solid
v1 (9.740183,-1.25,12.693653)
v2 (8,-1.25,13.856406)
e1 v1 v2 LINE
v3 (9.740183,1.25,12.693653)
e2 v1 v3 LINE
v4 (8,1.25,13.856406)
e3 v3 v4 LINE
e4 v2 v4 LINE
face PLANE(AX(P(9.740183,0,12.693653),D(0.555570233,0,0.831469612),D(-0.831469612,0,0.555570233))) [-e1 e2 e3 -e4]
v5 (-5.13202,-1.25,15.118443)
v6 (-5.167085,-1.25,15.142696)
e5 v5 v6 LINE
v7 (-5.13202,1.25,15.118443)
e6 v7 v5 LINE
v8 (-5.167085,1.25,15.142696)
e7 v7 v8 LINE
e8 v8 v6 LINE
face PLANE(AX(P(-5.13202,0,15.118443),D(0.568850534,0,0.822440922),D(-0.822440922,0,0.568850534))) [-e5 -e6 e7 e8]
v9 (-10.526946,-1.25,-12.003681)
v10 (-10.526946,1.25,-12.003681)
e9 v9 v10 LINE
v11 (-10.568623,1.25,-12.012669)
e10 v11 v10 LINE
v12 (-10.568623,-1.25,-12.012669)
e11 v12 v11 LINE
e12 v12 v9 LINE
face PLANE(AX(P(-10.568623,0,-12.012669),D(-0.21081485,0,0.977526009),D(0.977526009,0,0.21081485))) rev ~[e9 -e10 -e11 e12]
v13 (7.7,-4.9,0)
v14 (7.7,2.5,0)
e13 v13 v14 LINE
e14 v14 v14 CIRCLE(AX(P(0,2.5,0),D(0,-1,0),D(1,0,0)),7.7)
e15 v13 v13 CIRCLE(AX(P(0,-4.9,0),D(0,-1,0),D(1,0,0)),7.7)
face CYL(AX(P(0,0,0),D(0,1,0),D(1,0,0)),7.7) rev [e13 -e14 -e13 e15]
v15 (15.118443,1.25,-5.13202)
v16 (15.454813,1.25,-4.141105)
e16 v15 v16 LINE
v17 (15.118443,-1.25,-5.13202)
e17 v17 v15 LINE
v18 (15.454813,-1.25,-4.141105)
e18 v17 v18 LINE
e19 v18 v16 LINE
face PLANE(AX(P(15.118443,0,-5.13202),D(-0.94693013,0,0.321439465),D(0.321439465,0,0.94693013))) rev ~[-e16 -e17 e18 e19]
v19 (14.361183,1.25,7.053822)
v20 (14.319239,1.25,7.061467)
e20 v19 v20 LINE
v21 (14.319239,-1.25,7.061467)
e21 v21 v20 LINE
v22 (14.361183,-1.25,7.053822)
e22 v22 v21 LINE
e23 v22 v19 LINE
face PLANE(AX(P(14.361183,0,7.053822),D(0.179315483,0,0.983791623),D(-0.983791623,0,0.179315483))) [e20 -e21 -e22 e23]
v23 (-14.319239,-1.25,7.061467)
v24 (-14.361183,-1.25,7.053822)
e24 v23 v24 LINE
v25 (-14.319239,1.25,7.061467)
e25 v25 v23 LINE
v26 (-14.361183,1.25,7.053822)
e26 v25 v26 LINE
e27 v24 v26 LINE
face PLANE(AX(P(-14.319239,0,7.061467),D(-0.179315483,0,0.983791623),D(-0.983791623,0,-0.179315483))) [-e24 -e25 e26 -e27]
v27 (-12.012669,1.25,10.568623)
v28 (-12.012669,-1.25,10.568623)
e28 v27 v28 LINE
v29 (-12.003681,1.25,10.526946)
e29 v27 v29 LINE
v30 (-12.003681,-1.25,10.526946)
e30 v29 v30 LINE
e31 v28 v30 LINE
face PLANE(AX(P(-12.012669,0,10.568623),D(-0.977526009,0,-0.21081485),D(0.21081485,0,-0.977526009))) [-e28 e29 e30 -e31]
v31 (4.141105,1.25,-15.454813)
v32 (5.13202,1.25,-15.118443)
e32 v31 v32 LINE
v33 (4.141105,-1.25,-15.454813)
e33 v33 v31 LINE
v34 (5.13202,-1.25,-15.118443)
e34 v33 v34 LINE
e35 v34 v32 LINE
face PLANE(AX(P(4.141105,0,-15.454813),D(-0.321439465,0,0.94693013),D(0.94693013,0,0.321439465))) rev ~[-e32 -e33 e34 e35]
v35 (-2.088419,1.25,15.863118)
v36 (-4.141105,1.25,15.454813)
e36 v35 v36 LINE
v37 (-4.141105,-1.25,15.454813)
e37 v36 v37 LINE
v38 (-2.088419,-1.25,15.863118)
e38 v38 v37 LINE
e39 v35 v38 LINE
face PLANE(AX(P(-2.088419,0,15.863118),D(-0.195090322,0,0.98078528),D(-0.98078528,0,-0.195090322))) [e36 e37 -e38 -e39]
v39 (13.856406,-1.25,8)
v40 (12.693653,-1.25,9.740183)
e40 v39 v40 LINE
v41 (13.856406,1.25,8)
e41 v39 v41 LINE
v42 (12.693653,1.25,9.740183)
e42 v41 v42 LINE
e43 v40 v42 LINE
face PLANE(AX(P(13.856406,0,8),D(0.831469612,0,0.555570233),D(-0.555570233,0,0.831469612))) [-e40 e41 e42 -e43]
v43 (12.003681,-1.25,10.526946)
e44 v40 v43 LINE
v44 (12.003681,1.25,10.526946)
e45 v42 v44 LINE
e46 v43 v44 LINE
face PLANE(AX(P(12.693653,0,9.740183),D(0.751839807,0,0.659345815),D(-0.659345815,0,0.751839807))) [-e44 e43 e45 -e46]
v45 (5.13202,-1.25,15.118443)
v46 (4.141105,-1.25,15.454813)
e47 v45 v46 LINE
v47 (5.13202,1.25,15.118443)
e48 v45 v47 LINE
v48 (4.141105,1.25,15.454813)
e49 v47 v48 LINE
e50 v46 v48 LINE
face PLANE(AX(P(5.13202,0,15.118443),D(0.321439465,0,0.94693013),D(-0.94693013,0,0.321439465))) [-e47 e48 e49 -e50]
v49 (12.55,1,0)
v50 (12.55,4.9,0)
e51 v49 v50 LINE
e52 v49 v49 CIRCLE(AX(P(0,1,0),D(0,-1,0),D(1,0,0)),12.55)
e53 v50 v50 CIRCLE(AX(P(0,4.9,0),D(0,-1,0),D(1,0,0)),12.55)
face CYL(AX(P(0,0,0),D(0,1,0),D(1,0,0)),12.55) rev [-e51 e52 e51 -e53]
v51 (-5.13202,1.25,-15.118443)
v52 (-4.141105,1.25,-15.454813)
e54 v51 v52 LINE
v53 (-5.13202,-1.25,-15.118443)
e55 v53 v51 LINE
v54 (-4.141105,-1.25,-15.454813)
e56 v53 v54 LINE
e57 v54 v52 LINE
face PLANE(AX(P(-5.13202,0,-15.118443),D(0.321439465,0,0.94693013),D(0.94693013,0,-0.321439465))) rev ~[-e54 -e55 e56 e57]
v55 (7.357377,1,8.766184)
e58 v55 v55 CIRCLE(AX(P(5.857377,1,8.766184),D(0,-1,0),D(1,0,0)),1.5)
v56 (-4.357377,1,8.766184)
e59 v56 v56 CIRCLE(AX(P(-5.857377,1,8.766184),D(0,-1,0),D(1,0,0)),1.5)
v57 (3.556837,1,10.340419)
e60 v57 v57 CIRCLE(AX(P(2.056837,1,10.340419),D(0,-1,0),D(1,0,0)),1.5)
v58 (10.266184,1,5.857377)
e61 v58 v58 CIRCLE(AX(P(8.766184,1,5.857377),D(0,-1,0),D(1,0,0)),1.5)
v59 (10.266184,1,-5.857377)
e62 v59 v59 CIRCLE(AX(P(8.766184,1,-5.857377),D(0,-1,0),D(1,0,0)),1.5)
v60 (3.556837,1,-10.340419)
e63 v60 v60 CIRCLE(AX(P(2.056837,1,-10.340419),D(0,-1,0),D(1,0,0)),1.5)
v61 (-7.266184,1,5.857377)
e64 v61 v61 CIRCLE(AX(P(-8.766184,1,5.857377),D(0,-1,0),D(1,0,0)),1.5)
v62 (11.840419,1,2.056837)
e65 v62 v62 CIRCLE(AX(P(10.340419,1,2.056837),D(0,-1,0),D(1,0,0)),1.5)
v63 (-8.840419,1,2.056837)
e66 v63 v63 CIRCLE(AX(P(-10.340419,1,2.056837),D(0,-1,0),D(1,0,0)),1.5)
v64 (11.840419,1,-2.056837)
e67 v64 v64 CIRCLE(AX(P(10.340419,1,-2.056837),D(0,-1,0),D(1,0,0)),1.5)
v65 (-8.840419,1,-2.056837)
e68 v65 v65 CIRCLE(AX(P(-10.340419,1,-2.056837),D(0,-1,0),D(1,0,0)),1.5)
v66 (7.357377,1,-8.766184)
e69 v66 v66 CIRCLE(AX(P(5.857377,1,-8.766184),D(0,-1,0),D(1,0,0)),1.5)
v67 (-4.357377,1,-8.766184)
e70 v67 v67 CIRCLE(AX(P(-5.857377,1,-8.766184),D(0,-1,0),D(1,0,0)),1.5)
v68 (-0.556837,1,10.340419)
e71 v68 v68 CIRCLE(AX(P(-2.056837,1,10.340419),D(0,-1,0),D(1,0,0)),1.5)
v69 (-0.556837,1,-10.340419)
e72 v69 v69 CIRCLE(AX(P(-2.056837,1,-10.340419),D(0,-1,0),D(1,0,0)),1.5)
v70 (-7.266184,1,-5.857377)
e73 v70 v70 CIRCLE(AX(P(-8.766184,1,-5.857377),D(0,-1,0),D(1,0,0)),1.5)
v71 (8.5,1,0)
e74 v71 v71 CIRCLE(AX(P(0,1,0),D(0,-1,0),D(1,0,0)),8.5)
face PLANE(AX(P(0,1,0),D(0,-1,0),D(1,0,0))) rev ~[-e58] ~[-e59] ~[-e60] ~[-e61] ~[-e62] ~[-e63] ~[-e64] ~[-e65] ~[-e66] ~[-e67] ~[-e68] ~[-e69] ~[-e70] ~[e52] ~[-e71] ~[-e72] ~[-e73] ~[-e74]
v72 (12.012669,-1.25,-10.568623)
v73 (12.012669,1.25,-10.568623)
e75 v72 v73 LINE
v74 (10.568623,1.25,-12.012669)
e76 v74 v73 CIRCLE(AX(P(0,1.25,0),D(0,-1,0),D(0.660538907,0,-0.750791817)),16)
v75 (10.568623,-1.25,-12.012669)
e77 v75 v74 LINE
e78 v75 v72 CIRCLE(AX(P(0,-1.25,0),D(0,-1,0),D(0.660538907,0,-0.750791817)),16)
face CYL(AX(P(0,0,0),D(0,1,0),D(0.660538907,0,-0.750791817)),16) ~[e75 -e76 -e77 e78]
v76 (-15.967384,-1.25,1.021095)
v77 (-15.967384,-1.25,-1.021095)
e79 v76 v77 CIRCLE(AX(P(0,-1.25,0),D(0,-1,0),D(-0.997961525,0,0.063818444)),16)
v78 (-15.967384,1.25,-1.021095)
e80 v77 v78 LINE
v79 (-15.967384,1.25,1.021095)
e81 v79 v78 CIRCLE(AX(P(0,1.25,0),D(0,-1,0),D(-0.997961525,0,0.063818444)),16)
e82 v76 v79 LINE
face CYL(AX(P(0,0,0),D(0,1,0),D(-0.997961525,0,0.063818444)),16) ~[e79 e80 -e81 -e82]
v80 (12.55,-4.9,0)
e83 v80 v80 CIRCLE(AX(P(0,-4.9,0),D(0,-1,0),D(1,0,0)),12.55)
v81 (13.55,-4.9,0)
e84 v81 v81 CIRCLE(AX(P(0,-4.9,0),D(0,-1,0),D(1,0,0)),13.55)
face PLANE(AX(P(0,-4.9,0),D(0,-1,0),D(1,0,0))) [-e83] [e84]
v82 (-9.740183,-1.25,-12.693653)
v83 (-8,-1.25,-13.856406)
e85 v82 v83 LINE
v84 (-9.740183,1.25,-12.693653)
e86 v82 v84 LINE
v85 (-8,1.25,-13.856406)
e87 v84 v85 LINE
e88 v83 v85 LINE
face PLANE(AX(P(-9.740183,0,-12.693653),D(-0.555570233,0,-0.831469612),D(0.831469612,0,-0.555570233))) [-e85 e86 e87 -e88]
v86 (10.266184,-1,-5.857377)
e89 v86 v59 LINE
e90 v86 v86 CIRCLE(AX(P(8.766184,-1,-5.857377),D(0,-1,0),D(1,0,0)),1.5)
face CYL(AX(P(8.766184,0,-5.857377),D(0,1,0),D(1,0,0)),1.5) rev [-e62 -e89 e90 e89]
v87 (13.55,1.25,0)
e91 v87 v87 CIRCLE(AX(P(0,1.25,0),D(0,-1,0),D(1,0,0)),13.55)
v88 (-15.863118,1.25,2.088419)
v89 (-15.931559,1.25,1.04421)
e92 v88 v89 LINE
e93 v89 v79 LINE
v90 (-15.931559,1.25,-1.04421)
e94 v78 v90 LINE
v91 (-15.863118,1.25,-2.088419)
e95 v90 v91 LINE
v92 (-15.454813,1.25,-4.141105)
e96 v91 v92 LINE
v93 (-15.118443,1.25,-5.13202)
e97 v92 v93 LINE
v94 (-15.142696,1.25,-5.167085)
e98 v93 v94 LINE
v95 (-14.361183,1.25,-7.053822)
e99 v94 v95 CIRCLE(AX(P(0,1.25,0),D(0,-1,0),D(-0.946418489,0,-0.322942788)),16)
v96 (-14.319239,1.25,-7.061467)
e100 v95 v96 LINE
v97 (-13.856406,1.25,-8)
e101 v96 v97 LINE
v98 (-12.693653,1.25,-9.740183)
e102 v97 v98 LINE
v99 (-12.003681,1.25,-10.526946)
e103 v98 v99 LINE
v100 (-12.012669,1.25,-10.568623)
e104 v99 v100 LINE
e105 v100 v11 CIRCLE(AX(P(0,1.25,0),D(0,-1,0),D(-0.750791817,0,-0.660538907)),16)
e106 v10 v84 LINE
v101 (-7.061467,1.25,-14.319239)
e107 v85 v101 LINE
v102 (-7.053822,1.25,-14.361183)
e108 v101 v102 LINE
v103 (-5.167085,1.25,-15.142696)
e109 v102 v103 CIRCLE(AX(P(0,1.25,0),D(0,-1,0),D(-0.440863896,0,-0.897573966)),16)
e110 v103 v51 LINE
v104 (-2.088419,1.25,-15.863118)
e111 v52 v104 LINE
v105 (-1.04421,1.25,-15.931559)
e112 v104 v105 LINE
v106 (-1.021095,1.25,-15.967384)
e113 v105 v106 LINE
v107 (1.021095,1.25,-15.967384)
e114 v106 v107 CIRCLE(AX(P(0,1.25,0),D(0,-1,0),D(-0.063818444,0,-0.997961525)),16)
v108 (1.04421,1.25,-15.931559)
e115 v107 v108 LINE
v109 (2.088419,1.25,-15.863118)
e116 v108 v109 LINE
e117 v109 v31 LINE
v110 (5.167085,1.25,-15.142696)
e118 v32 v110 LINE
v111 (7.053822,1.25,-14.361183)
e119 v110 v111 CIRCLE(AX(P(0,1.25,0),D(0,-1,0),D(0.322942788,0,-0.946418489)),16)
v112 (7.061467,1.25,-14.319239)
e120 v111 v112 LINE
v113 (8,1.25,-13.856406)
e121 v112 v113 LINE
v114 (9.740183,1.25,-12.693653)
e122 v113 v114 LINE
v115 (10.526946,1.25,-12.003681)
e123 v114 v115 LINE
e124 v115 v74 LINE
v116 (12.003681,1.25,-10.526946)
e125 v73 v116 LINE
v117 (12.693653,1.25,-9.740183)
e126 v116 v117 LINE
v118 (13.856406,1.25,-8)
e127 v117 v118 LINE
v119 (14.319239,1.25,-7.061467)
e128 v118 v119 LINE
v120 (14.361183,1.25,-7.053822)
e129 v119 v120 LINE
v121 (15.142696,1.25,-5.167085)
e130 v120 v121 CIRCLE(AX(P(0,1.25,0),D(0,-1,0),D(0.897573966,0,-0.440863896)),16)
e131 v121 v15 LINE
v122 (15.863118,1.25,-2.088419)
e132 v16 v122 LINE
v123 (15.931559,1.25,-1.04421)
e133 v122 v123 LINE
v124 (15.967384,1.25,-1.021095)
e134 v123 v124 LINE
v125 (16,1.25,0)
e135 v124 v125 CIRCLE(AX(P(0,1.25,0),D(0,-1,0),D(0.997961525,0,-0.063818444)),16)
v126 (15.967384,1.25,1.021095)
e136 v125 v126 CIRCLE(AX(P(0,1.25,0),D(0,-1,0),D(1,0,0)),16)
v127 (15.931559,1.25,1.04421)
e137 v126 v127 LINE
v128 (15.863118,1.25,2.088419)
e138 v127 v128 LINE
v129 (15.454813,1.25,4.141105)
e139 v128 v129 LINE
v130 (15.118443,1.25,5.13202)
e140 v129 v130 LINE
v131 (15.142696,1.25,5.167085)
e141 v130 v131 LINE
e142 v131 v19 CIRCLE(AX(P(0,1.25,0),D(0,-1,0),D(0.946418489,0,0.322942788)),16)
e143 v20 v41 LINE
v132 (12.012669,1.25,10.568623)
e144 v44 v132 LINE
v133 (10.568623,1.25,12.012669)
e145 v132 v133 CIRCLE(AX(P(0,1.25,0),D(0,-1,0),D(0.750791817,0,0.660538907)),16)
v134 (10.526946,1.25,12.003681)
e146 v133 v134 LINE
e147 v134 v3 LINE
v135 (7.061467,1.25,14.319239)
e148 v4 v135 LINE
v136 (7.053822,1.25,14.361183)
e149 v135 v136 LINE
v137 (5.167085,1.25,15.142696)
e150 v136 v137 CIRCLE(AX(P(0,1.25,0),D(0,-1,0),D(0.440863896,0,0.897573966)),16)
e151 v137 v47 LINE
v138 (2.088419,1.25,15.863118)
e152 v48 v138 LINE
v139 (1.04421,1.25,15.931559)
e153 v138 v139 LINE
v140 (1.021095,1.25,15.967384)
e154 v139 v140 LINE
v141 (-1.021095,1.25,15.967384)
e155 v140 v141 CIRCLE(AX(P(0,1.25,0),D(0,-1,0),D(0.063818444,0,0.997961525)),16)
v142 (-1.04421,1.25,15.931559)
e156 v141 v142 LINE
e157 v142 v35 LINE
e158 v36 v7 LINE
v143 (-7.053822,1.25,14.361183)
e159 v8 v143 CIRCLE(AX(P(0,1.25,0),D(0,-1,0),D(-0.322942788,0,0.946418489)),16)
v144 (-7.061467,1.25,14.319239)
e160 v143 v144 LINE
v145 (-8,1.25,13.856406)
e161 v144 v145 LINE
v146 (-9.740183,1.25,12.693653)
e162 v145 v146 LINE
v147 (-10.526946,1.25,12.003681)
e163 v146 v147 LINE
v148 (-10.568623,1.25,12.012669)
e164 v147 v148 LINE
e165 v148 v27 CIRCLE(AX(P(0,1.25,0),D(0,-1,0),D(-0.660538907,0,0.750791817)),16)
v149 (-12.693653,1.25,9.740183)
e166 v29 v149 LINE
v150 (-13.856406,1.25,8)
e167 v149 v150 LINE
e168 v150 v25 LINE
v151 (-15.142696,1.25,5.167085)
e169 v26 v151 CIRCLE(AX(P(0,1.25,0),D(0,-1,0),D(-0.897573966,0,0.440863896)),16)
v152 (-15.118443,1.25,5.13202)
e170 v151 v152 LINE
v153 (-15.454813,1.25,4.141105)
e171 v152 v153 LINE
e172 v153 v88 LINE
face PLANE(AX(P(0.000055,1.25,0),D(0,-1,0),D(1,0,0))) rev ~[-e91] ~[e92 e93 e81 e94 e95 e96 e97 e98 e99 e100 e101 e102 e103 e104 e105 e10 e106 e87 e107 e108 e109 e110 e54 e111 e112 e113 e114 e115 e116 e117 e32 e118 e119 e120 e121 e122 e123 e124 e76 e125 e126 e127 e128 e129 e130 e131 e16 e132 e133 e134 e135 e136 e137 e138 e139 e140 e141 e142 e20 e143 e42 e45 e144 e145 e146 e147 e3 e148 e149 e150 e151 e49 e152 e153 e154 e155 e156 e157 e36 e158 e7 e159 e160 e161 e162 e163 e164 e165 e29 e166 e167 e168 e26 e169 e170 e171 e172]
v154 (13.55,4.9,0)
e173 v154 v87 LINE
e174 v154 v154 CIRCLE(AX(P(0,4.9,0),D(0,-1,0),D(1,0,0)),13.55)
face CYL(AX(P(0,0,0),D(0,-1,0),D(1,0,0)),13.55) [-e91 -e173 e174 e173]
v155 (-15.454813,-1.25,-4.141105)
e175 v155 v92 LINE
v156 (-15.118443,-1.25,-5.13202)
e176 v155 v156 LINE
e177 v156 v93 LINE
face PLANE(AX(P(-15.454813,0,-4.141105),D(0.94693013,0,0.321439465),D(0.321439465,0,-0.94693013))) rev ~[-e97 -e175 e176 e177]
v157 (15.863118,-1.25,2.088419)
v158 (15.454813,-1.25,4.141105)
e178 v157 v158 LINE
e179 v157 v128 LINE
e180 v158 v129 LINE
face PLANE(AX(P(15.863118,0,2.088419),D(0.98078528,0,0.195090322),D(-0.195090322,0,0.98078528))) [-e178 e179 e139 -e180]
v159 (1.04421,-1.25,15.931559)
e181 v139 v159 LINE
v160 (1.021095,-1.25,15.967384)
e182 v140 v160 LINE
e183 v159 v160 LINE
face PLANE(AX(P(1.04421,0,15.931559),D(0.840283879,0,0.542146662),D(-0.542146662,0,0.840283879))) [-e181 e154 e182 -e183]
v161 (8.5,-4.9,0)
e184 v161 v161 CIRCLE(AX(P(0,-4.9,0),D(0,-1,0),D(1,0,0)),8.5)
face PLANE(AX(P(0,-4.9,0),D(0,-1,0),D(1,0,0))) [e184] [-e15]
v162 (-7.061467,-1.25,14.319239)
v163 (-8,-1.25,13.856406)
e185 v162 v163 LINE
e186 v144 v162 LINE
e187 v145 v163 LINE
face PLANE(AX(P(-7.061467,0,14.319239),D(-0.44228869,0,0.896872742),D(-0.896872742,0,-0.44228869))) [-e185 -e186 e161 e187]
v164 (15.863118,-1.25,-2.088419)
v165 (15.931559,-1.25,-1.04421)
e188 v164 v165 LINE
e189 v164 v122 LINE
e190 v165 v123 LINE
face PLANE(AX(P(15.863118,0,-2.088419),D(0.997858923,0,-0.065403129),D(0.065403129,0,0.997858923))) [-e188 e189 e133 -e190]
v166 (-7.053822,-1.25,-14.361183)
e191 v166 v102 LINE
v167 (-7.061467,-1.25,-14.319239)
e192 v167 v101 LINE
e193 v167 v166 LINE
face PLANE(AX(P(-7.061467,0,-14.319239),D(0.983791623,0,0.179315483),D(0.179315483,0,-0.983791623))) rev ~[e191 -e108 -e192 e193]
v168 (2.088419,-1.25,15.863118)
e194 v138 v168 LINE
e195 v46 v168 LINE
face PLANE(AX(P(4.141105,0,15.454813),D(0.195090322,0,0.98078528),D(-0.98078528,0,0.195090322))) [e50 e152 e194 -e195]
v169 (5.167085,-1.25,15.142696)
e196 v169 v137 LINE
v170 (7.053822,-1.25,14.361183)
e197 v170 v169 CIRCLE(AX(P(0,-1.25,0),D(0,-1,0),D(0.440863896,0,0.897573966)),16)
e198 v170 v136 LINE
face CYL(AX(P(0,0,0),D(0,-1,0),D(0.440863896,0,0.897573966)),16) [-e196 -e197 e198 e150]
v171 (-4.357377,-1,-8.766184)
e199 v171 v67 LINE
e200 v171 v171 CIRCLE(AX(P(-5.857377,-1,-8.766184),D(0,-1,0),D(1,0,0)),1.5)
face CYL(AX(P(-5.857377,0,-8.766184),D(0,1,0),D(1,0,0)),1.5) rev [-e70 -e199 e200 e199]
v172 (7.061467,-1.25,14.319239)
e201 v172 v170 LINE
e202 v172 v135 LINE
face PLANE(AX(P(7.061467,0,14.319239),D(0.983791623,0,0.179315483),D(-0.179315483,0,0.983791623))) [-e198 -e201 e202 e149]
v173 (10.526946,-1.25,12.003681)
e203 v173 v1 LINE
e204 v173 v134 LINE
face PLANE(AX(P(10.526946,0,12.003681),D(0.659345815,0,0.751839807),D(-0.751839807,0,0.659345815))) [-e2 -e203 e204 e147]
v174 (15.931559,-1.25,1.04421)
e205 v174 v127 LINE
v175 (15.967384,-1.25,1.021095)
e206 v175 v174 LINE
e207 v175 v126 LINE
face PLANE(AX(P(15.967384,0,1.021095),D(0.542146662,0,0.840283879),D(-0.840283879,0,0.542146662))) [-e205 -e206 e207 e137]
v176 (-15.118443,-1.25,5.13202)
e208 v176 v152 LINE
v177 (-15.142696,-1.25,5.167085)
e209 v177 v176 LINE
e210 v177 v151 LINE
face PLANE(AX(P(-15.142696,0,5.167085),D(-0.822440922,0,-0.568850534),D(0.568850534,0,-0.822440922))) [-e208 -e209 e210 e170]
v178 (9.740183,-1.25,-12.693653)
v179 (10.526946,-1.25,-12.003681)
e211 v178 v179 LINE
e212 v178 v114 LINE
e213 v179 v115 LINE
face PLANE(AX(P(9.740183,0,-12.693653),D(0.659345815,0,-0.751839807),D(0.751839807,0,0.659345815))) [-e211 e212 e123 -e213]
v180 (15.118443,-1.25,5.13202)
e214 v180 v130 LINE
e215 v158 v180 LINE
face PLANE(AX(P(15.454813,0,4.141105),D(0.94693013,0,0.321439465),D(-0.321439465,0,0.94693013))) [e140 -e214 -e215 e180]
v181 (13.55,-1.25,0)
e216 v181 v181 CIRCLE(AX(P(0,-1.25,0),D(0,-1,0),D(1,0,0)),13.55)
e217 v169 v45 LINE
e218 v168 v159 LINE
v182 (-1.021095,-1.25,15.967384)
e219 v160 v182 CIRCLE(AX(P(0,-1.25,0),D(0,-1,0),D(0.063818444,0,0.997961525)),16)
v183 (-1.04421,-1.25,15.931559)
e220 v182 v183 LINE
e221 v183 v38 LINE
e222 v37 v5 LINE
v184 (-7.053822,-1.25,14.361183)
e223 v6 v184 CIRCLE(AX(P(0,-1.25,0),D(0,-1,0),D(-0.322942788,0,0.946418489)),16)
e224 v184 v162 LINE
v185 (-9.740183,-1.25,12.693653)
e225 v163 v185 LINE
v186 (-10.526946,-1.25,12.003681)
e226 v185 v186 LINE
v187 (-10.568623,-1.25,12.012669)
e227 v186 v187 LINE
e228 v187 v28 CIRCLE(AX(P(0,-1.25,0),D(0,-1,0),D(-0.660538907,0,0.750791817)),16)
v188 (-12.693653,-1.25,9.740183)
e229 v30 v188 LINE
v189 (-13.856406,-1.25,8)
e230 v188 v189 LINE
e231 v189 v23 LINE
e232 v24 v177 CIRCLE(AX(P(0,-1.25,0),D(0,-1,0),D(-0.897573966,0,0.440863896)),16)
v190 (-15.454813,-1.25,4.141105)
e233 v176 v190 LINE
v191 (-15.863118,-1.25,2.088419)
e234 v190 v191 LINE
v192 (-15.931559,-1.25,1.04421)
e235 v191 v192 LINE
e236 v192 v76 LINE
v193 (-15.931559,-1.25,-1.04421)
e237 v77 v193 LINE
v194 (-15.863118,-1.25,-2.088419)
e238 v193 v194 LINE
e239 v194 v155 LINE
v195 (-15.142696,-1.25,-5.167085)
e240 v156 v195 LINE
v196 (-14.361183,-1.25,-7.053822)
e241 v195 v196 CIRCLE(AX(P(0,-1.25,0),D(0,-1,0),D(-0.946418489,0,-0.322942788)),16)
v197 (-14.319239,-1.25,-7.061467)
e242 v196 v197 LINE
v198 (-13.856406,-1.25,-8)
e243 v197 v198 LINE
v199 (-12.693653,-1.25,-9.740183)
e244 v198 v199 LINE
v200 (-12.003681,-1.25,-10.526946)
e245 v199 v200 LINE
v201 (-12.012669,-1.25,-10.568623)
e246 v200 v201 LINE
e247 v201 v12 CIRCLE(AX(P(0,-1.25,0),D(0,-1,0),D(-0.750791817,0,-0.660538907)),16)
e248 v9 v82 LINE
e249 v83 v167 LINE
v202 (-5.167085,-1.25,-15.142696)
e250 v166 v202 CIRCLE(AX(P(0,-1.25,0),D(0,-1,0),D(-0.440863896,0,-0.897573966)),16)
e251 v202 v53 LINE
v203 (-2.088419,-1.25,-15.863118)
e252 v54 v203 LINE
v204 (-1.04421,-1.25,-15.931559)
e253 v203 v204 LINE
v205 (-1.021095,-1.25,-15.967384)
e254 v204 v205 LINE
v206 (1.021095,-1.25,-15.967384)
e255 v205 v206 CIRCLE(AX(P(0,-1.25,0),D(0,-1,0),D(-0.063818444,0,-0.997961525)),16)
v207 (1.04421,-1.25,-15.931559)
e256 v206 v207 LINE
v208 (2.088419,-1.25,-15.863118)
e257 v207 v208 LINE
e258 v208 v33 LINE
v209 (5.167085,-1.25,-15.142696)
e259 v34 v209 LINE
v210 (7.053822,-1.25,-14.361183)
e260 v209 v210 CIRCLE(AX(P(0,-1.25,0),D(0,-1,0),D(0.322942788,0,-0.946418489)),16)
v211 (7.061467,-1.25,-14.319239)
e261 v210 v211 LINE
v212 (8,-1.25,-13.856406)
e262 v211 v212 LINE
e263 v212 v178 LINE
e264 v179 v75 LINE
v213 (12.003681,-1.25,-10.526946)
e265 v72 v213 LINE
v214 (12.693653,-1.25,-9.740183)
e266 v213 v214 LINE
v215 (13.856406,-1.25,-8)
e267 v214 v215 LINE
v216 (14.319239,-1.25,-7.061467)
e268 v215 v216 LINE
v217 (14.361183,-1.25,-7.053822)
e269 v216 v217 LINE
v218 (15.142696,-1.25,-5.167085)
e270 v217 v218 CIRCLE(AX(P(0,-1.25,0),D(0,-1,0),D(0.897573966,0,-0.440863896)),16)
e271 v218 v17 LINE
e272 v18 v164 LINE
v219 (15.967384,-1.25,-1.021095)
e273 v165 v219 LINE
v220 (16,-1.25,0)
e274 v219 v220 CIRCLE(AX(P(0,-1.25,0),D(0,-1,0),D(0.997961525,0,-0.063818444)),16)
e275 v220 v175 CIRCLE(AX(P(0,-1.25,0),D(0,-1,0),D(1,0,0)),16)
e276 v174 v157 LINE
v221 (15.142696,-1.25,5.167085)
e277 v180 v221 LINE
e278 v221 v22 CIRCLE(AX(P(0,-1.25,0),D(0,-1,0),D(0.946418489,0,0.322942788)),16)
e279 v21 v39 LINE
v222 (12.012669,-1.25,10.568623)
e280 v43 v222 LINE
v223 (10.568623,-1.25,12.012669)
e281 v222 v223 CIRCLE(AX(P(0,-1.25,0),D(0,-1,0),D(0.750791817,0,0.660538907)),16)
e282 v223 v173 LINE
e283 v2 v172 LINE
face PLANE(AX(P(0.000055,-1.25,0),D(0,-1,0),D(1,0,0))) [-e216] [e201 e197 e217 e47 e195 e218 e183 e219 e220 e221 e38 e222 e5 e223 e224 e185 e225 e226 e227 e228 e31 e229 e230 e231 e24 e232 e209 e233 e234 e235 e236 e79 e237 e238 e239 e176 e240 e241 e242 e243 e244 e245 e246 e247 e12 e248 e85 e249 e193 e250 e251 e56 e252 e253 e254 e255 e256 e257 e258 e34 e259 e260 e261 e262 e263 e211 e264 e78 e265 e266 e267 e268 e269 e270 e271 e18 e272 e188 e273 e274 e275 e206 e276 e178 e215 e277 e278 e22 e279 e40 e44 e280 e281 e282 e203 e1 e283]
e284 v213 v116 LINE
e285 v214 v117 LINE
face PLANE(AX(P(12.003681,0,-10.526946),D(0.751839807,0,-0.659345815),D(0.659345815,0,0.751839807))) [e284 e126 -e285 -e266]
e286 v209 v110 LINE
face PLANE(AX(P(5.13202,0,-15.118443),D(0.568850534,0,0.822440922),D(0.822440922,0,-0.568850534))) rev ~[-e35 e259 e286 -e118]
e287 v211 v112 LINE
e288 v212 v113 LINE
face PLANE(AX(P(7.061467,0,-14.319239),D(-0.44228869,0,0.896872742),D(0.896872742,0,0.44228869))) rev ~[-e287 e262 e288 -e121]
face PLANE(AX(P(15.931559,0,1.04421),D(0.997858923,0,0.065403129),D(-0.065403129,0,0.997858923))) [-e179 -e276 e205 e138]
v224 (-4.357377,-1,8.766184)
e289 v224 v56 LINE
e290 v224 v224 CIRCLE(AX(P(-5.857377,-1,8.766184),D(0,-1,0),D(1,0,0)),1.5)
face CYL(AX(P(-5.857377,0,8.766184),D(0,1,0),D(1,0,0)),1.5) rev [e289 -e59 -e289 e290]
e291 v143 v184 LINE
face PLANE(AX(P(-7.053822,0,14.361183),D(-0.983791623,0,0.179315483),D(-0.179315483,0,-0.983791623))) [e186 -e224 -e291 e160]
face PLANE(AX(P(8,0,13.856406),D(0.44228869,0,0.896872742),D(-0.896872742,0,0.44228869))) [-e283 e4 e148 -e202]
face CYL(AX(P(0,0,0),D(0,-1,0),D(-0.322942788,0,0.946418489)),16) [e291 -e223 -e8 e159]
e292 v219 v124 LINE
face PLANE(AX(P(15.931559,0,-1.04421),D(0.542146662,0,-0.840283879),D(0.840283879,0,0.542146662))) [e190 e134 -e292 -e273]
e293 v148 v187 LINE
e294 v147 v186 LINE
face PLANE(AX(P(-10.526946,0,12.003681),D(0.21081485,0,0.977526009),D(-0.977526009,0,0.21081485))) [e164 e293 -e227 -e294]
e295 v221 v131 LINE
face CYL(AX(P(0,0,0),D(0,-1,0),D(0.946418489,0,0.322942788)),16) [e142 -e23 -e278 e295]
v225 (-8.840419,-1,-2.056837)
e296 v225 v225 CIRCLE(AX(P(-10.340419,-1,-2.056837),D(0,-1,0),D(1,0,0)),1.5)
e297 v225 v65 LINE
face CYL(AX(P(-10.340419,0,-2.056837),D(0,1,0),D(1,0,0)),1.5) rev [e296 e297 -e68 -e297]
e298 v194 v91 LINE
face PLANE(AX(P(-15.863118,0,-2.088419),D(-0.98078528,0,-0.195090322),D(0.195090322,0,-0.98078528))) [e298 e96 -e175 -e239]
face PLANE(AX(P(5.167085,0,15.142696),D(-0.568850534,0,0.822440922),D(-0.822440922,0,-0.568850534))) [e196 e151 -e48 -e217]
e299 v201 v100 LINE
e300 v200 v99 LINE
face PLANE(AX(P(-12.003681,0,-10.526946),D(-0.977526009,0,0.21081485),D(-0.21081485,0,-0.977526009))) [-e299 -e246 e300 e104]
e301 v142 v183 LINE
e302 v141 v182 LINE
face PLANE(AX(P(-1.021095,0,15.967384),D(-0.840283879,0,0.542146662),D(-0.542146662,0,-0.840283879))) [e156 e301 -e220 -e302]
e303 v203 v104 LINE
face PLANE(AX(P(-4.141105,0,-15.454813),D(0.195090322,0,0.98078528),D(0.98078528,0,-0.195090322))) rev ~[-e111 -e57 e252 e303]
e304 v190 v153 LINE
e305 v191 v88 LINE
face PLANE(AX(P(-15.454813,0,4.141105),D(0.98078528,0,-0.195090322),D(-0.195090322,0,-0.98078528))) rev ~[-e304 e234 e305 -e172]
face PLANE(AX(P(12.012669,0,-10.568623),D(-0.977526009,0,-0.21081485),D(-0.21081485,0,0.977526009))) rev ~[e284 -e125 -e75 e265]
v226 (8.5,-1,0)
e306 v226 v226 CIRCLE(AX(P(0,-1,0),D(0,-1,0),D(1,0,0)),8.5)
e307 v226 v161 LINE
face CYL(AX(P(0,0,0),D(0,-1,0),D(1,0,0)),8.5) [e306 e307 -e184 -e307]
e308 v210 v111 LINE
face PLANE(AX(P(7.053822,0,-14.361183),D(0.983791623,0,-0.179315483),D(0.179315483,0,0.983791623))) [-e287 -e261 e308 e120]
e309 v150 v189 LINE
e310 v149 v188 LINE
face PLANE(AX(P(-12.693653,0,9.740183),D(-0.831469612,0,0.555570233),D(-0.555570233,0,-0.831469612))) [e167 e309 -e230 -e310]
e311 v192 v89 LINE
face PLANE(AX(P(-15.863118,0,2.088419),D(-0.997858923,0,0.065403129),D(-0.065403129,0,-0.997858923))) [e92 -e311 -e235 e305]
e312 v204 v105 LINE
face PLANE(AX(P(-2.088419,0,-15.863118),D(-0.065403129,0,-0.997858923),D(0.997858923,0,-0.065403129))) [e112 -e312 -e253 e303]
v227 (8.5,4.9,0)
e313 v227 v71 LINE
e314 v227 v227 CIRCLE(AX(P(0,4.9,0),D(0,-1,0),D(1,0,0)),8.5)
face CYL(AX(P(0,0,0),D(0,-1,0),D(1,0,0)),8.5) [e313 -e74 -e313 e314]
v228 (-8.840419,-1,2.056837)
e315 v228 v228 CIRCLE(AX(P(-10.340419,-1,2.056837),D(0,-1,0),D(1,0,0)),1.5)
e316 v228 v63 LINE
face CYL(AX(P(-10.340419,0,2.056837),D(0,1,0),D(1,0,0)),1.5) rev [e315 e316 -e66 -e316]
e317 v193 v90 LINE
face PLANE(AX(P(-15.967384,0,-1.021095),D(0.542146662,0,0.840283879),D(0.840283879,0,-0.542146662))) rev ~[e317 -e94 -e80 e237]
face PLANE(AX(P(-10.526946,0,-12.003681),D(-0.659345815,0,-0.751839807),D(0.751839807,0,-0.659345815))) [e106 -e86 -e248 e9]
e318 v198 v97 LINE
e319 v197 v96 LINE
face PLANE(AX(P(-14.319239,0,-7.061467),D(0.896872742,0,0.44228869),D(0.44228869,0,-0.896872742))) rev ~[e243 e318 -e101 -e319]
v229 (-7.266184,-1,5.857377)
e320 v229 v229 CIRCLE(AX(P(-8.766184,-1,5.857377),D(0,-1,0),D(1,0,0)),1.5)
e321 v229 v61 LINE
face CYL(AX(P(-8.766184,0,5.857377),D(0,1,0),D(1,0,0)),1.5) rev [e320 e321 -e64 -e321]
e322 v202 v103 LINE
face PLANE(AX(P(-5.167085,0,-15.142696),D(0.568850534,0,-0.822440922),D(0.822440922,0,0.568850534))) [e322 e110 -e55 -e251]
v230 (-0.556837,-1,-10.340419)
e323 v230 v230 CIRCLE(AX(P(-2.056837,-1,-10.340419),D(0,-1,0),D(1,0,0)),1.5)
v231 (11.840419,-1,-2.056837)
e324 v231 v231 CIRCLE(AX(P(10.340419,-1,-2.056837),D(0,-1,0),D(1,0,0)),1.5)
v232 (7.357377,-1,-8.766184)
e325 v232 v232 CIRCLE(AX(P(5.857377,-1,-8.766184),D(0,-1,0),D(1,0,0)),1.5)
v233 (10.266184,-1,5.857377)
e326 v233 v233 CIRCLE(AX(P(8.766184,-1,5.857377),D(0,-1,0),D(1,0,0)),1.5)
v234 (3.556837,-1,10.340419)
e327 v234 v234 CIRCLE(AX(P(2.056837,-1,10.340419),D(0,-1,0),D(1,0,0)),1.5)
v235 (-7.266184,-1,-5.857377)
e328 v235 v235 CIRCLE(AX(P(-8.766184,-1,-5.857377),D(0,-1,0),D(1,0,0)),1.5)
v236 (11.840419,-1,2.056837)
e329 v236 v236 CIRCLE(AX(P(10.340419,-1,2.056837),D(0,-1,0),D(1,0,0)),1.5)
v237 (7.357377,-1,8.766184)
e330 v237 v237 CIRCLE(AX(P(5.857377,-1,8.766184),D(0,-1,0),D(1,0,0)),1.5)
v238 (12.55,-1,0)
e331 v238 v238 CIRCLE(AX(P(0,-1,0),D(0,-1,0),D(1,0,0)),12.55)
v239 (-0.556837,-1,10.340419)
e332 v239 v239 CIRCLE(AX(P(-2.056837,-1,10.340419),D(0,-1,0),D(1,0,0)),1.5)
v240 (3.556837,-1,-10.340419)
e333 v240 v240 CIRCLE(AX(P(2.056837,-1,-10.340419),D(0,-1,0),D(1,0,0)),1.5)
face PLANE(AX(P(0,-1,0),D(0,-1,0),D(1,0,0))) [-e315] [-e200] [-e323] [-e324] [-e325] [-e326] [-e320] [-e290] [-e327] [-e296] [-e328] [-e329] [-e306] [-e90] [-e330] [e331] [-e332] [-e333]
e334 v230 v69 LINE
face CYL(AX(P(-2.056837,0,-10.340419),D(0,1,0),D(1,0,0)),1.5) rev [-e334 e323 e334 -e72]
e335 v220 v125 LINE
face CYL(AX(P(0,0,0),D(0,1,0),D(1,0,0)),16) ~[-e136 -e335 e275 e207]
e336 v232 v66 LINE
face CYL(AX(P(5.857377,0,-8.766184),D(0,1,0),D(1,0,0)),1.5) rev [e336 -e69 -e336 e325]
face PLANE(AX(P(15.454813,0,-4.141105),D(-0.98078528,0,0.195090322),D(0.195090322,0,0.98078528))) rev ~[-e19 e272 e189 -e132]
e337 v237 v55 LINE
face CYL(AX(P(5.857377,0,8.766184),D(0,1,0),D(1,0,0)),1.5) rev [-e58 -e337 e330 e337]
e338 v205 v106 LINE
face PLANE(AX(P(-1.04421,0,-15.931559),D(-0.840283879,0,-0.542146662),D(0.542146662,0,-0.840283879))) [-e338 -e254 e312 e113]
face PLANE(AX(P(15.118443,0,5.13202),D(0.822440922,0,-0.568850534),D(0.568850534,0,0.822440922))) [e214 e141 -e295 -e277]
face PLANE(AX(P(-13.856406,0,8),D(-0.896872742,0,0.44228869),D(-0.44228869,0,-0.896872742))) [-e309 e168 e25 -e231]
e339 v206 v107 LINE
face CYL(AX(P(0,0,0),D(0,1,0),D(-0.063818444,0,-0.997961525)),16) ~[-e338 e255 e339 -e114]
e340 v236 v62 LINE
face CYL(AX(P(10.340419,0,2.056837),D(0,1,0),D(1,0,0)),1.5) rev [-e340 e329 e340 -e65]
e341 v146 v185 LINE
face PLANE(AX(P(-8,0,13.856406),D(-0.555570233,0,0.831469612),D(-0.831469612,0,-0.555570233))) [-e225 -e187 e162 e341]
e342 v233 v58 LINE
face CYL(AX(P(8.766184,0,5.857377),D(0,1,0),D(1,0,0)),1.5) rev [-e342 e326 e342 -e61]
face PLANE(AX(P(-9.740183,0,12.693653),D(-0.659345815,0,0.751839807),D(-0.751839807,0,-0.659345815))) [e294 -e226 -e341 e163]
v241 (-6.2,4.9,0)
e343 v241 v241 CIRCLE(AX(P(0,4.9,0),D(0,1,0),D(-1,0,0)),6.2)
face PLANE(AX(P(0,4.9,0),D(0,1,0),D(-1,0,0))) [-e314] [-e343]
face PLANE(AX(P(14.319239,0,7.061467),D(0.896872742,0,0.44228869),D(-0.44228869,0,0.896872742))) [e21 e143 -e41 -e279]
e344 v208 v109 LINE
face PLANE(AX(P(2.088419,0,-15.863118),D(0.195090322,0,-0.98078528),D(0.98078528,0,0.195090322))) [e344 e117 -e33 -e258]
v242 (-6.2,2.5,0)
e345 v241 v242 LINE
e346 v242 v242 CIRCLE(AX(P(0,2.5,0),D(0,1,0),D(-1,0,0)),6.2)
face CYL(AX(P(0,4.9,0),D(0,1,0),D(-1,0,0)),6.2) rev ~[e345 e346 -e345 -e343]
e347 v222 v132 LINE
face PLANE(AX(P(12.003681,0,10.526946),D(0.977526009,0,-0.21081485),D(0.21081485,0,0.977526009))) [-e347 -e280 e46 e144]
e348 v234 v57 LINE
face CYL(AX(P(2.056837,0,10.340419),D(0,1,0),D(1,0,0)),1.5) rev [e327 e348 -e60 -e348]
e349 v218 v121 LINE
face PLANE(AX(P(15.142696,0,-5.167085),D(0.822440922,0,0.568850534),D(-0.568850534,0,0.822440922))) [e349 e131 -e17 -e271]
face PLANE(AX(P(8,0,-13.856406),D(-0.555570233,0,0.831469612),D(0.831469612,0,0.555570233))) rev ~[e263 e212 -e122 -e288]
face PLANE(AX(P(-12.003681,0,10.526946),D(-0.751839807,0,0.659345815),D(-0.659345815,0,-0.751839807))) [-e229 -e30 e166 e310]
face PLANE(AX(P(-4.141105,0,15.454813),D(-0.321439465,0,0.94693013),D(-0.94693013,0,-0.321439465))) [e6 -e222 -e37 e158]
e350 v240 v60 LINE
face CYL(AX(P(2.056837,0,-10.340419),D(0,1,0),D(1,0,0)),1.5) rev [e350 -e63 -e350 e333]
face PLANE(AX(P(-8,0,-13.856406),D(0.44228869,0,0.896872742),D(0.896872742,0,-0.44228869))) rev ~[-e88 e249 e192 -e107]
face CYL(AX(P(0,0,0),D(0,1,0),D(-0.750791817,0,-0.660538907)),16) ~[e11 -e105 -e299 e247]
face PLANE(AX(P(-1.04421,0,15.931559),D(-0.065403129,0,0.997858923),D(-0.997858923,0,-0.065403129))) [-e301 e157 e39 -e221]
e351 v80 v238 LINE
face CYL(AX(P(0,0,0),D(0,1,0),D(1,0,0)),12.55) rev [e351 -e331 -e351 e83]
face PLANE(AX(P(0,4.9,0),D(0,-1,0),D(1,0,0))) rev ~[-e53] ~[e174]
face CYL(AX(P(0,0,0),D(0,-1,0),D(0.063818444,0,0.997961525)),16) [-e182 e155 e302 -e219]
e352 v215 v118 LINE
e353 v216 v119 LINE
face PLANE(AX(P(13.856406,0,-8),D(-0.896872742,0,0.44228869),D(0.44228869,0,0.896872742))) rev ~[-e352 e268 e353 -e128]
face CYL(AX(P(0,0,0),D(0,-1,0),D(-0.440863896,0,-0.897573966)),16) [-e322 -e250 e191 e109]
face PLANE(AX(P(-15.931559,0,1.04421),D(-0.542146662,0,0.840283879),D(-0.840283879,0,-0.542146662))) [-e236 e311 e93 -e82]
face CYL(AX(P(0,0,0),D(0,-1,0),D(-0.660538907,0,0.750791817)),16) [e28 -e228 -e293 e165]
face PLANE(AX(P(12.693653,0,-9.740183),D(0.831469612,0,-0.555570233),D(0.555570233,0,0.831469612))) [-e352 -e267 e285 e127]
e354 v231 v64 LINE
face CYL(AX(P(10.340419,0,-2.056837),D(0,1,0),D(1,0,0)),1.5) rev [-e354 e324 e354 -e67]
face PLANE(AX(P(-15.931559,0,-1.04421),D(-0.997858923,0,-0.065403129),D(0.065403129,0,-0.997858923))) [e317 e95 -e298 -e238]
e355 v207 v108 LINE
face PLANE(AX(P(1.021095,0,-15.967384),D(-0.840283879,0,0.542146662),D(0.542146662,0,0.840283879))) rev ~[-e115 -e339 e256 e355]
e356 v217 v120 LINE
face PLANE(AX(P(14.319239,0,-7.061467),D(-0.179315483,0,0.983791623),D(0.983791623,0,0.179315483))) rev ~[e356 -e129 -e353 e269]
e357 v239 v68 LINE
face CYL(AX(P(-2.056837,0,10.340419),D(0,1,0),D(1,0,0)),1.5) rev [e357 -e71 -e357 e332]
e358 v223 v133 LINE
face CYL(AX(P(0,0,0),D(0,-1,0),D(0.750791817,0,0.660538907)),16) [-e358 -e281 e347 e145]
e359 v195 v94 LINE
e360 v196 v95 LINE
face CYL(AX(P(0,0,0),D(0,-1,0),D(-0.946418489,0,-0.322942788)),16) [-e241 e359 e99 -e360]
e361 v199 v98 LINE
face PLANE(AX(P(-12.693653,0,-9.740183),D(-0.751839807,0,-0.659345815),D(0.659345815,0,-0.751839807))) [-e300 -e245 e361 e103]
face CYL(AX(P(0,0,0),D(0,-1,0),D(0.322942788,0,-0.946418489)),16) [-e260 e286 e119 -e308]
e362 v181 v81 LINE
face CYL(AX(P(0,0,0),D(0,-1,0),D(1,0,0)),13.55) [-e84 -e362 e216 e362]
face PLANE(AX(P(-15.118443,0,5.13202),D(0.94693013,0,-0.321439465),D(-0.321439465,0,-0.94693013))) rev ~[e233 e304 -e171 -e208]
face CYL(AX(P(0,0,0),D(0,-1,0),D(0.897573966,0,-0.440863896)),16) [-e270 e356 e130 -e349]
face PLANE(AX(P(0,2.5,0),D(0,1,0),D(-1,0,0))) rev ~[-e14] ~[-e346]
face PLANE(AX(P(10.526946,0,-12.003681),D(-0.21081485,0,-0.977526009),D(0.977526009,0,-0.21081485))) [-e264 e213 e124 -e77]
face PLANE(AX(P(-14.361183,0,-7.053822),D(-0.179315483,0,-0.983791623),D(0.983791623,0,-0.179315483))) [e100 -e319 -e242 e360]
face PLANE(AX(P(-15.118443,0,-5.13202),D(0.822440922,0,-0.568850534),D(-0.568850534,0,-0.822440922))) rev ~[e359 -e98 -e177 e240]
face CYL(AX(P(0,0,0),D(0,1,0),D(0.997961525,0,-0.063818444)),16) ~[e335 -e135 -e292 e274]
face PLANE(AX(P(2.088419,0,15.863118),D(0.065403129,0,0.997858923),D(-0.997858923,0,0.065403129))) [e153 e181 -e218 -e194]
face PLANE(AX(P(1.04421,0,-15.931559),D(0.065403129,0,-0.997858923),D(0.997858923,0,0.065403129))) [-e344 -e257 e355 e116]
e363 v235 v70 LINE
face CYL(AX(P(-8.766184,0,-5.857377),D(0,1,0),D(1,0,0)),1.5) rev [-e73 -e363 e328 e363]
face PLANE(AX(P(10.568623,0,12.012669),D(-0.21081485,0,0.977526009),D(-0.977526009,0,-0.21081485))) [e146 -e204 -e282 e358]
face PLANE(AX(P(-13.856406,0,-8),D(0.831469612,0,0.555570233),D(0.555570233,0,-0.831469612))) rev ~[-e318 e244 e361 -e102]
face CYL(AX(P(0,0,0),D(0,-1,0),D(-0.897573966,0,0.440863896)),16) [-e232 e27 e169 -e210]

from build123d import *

# Parameters (mm, degrees)
F0_R     = 13.55
F1_DEPTH = 1.25
F0_R_2   = 12.55
F2_DEPTH = 4.9
F0_R_3   = 1.5
F0_R_4   = 8.5
F3_DEPTH = 1
F0_R_5   = 7.7
F4_DEPTH = 4.9
F5_R     = 7.7
F5_R_2   = 6.2
F6_DEPTH = 2.4


with BuildPart() as f1:
    # F0 (on Front) → F1 (new body, symmetric)
    with BuildSketch(Plane.XZ):
        with BuildLine():
            Line((4.1411047216, 15.4548132206), (2.0884190755, 15.863117782))
            Line((2.0884190755, 15.863117782), (1.0442095378, 15.931558891))
            Line((1.0442095378, 15.931558891), (1.021095107, 15.9673844064))
            ThreePointArc((1.021095107, 15.9673844064), (0, 16), (-1.021095107, 15.9673844064))
            Line((-1.021095107, 15.9673844064), (-1.0442095378, 15.931558891))
            Line((-1.0442095378, 15.931558891), (-2.0884190755, 15.863117782))
            Line((-2.0884190755, 15.863117782), (-4.1411047216, 15.4548132206))
            Line((-4.1411047216, 15.4548132206), (-5.1320198197, 15.1184428704))
            Line((-5.1320198197, 15.1184428704), (-5.1670846004, 15.1426958212))
            ThreePointArc((-5.1670846004, 15.1426958212), (-6.1229349178, 14.7820725202), (-7.0538223407, 14.3611834605))
            Line((-7.0538223407, 14.3611834605), (-7.0614674589, 14.3192394904))
            Line((-7.0614674589, 14.3192394904), (-8, 13.8564064606))
            Line((-8, 13.8564064606), (-9.7401828641, 12.6936534447))
            Line((-9.7401828641, 12.6936534447), (-10.5269456816, 12.0036809718))
            Line((-10.5269456816, 12.0036809718), (-10.5686225172, 12.012669066))
            ThreePointArc((-10.5686225172, 12.012669066), (-11.313708499, 11.313708499), (-12.012669066, 10.5686225172))
            Line((-12.012669066, 10.5686225172), (-12.0036809718, 10.5269456816))
            Line((-12.0036809718, 10.5269456816), (-12.6936534447, 9.7401828641))
            Line((-12.6936534447, 9.7401828641), (-13.8564064606, 8))
            Line((-13.8564064606, 8), (-14.3192394904, 7.0614674589))
            Line((-14.3192394904, 7.0614674589), (-14.3611834605, 7.0538223407))
            ThreePointArc((-14.3611834605, 7.0538223407), (-14.7820725202, 6.1229349178), (-15.1426958212, 5.1670846004))
            Line((-15.1426958212, 5.1670846004), (-15.1184428704, 5.1320198197))
            Line((-15.1184428704, 5.1320198197), (-15.4548132206, 4.1411047216))
            Line((-15.4548132206, 4.1411047216), (-15.863117782, 2.0884190755))
            Line((-15.863117782, 2.0884190755), (-15.931558891, 1.0442095378))
            Line((-15.931558891, 1.0442095378), (-15.9673844064, 1.021095107))
            ThreePointArc((-15.9673844064, 1.021095107), (-16, 0), (-15.9673844064, -1.021095107))
            Line((-15.9673844064, -1.021095107), (-15.931558891, -1.0442095378))
            Line((-15.931558891, -1.0442095378), (-15.863117782, -2.0884190755))
            Line((-15.863117782, -2.0884190755), (-15.4548132206, -4.1411047216))
            Line((-15.4548132206, -4.1411047216), (-15.1184428704, -5.1320198197))
            Line((-15.1184428704, -5.1320198197), (-15.1426958212, -5.1670846004))
            ThreePointArc((-15.1426958212, -5.1670846004), (-14.7820725202, -6.1229349178), (-14.3611834605, -7.0538223407))
            Line((-14.3611834605, -7.0538223407), (-14.3192394904, -7.0614674589))
            Line((-14.3192394904, -7.0614674589), (-13.8564064606, -8))
            Line((-13.8564064606, -8), (-12.6936534447, -9.7401828641))
            Line((-12.6936534447, -9.7401828641), (-12.0036809718, -10.5269456816))
            Line((-12.0036809718, -10.5269456816), (-12.012669066, -10.5686225172))
            ThreePointArc((-12.012669066, -10.5686225172), (-11.313708499, -11.313708499), (-10.5686225172, -12.012669066))
            Line((-10.5686225172, -12.012669066), (-10.5269456816, -12.0036809718))
            Line((-10.5269456816, -12.0036809718), (-9.7401828641, -12.6936534447))
            Line((-9.7401828641, -12.6936534447), (-8, -13.8564064606))
            Line((-8, -13.8564064606), (-7.0614674589, -14.3192394904))
            Line((-7.0614674589, -14.3192394904), (-7.0538223407, -14.3611834605))
            ThreePointArc((-7.0538223407, -14.3611834605), (-6.1229349178, -14.7820725202), (-5.1670846004, -15.1426958212))
            Line((-5.1670846004, -15.1426958212), (-5.1320198197, -15.1184428704))
            Line((-5.1320198197, -15.1184428704), (-4.1411047216, -15.4548132206))
            Line((-4.1411047216, -15.4548132206), (-2.0884190755, -15.863117782))
            Line((-2.0884190755, -15.863117782), (-1.0442095378, -15.931558891))
            Line((-1.0442095378, -15.931558891), (-1.021095107, -15.9673844064))
            ThreePointArc((-1.021095107, -15.9673844064), (0, -16), (1.021095107, -15.9673844064))
            Line((1.021095107, -15.9673844064), (1.0442095378, -15.931558891))
            Line((1.0442095378, -15.931558891), (2.0884190755, -15.863117782))
            Line((2.0884190755, -15.863117782), (4.1411047216, -15.4548132206))
            Line((4.1411047216, -15.4548132206), (5.1320198197, -15.1184428704))
            Line((5.1320198197, -15.1184428704), (5.1670846004, -15.1426958212))
            ThreePointArc((5.1670846004, -15.1426958212), (6.1229349178, -14.7820725202), (7.0538223407, -14.3611834605))
            Line((7.0538223407, -14.3611834605), (7.0614674589, -14.3192394904))
            Line((7.0614674589, -14.3192394904), (8, -13.8564064606))
            Line((8, -13.8564064606), (9.7401828641, -12.6936534447))
            Line((9.7401828641, -12.6936534447), (10.5269456816, -12.0036809718))
            Line((10.5269456816, -12.0036809718), (10.5686225172, -12.012669066))
            ThreePointArc((10.5686225172, -12.012669066), (11.313708499, -11.313708499), (12.012669066, -10.5686225172))
            Line((12.012669066, -10.5686225172), (12.0036809718, -10.5269456816))
            Line((12.0036809718, -10.5269456816), (12.6936534447, -9.7401828641))
            Line((12.6936534447, -9.7401828641), (13.8564064606, -8))
            Line((13.8564064606, -8), (14.3192394904, -7.0614674589))
            Line((14.3192394904, -7.0614674589), (14.3611834605, -7.0538223407))
            ThreePointArc((14.3611834605, -7.0538223407), (14.7820725202, -6.1229349178), (15.1426958212, -5.1670846004))
            Line((15.1426958212, -5.1670846004), (15.1184428704, -5.1320198197))
            Line((15.1184428704, -5.1320198197), (15.4548132206, -4.1411047216))
            Line((15.4548132206, -4.1411047216), (15.863117782, -2.0884190755))
            Line((15.863117782, -2.0884190755), (15.931558891, -1.0442095378))
            Line((15.931558891, -1.0442095378), (15.9673844064, -1.021095107))
            ThreePointArc((15.9673844064, -1.021095107), (15.9918440229, -0.5108079371), (16, 0))
            ThreePointArc((16, 0), (15.9918440229, 0.5108079371), (15.9673844064, 1.021095107))
            Line((15.9673844064, 1.021095107), (15.931558891, 1.0442095378))
            Line((15.931558891, 1.0442095378), (15.863117782, 2.0884190755))
            Line((15.863117782, 2.0884190755), (15.4548132206, 4.1411047216))
            Line((15.4548132206, 4.1411047216), (15.1184428704, 5.1320198197))
            Line((15.1184428704, 5.1320198197), (15.1426958212, 5.1670846004))
            ThreePointArc((15.1426958212, 5.1670846004), (14.7820725202, 6.1229349178), (14.3611834605, 7.0538223407))
            Line((14.3611834605, 7.0538223407), (14.3192394904, 7.0614674589))
            Line((14.3192394904, 7.0614674589), (13.8564064606, 8))
            Line((13.8564064606, 8), (12.6936534447, 9.7401828641))
            Line((12.6936534447, 9.7401828641), (12.0036809718, 10.5269456816))
            Line((12.0036809718, 10.5269456816), (12.012669066, 10.5686225172))
            ThreePointArc((12.012669066, 10.5686225172), (11.313708499, 11.313708499), (10.5686225172, 12.012669066))
            Line((10.5686225172, 12.012669066), (10.5269456816, 12.0036809718))
            Line((10.5269456816, 12.0036809718), (9.7401828641, 12.6936534447))
            Line((9.7401828641, 12.6936534447), (8, 13.8564064606))
            Line((8, 13.8564064606), (7.0614674589, 14.3192394904))
            Line((7.0614674589, 14.3192394904), (7.0538223407, 14.3611834605))
            ThreePointArc((7.0538223407, 14.3611834605), (6.1229349178, 14.7820725202), (5.1670846004, 15.1426958212))
            Line((5.1670846004, 15.1426958212), (5.1320198197, 15.1184428704))
            Line((5.1320198197, 15.1184428704), (4.1411047216, 15.4548132206))
        make_face()
        Circle(F0_R, mode=Mode.SUBTRACT)
    extrude(amount=F1_DEPTH, both=True)

    # F0 (on Front) → F2 (join, symmetric)
    with BuildSketch(Plane.XZ):
        Circle(F0_R)
        Circle(F0_R_2, mode=Mode.SUBTRACT)
    extrude(amount=F2_DEPTH, both=True)

    # F0 (on Front) → F3 (join, symmetric)
    with BuildSketch(Plane.XZ):
        Circle(F0_R_2)
        with Locations((-2.056837265, -10.3404192113)):
            Circle(F0_R_3, mode=Mode.SUBTRACT)
        with Locations((-10.3404192113, -2.056837265)):
            Circle(F0_R_3, mode=Mode.SUBTRACT)
        with Locations((-5.8573769667, -8.7661841225)):
            Circle(F0_R_3, mode=Mode.SUBTRACT)
        with Locations((-8.7661841225, -5.8573769667)):
            Circle(F0_R_3, mode=Mode.SUBTRACT)
        with Locations((2.056837265, -10.3404192113)):
            Circle(F0_R_3, mode=Mode.SUBTRACT)
        with Locations((5.8573769667, -8.7661841225)):
            Circle(F0_R_3, mode=Mode.SUBTRACT)
        with Locations((8.7661841225, -5.8573769667)):
            Circle(F0_R_3, mode=Mode.SUBTRACT)
        with Locations((10.3404192113, -2.056837265)):
            Circle(F0_R_3, mode=Mode.SUBTRACT)
        with Locations((-10.3404192113, 2.056837265)):
            Circle(F0_R_3, mode=Mode.SUBTRACT)
        with Locations((-8.7661841225, 5.8573769667)):
            Circle(F0_R_3, mode=Mode.SUBTRACT)
        with Locations((-5.8573769667, 8.7661841225)):
            Circle(F0_R_3, mode=Mode.SUBTRACT)
        with Locations((-2.056837265, 10.3404192113)):
            Circle(F0_R_3, mode=Mode.SUBTRACT)
        Circle(F0_R_4, mode=Mode.SUBTRACT)
        with Locations((8.7661841225, 5.8573769667)):
            Circle(F0_R_3, mode=Mode.SUBTRACT)
        with Locations((5.8573769667, 8.7661841225)):
            Circle(F0_R_3, mode=Mode.SUBTRACT)
        with Locations((10.3404192113, 2.056837265)):
            Circle(F0_R_3, mode=Mode.SUBTRACT)
        with Locations((2.056837265, 10.3404192113)):
            Circle(F0_R_3, mode=Mode.SUBTRACT)
    extrude(amount=F3_DEPTH, both=True)

    # F0 (on Front) → F4 (join, symmetric)
    with BuildSketch(Plane.XZ):
        Circle(F0_R_4)
        Circle(F0_R_5, mode=Mode.SUBTRACT)
    extrude(amount=F4_DEPTH, both=True)

    # F5 (on face) → F6 (join)
    with BuildSketch(Plane(origin=(0, 4.9, 0), x_dir=(-1, 0, 0), z_dir=(0, 1, 0))):
        Circle(F5_R)
        Circle(F5_R_2, mode=Mode.SUBTRACT)
    extrude(amount=-F6_DEPTH)


solid = f1.part
